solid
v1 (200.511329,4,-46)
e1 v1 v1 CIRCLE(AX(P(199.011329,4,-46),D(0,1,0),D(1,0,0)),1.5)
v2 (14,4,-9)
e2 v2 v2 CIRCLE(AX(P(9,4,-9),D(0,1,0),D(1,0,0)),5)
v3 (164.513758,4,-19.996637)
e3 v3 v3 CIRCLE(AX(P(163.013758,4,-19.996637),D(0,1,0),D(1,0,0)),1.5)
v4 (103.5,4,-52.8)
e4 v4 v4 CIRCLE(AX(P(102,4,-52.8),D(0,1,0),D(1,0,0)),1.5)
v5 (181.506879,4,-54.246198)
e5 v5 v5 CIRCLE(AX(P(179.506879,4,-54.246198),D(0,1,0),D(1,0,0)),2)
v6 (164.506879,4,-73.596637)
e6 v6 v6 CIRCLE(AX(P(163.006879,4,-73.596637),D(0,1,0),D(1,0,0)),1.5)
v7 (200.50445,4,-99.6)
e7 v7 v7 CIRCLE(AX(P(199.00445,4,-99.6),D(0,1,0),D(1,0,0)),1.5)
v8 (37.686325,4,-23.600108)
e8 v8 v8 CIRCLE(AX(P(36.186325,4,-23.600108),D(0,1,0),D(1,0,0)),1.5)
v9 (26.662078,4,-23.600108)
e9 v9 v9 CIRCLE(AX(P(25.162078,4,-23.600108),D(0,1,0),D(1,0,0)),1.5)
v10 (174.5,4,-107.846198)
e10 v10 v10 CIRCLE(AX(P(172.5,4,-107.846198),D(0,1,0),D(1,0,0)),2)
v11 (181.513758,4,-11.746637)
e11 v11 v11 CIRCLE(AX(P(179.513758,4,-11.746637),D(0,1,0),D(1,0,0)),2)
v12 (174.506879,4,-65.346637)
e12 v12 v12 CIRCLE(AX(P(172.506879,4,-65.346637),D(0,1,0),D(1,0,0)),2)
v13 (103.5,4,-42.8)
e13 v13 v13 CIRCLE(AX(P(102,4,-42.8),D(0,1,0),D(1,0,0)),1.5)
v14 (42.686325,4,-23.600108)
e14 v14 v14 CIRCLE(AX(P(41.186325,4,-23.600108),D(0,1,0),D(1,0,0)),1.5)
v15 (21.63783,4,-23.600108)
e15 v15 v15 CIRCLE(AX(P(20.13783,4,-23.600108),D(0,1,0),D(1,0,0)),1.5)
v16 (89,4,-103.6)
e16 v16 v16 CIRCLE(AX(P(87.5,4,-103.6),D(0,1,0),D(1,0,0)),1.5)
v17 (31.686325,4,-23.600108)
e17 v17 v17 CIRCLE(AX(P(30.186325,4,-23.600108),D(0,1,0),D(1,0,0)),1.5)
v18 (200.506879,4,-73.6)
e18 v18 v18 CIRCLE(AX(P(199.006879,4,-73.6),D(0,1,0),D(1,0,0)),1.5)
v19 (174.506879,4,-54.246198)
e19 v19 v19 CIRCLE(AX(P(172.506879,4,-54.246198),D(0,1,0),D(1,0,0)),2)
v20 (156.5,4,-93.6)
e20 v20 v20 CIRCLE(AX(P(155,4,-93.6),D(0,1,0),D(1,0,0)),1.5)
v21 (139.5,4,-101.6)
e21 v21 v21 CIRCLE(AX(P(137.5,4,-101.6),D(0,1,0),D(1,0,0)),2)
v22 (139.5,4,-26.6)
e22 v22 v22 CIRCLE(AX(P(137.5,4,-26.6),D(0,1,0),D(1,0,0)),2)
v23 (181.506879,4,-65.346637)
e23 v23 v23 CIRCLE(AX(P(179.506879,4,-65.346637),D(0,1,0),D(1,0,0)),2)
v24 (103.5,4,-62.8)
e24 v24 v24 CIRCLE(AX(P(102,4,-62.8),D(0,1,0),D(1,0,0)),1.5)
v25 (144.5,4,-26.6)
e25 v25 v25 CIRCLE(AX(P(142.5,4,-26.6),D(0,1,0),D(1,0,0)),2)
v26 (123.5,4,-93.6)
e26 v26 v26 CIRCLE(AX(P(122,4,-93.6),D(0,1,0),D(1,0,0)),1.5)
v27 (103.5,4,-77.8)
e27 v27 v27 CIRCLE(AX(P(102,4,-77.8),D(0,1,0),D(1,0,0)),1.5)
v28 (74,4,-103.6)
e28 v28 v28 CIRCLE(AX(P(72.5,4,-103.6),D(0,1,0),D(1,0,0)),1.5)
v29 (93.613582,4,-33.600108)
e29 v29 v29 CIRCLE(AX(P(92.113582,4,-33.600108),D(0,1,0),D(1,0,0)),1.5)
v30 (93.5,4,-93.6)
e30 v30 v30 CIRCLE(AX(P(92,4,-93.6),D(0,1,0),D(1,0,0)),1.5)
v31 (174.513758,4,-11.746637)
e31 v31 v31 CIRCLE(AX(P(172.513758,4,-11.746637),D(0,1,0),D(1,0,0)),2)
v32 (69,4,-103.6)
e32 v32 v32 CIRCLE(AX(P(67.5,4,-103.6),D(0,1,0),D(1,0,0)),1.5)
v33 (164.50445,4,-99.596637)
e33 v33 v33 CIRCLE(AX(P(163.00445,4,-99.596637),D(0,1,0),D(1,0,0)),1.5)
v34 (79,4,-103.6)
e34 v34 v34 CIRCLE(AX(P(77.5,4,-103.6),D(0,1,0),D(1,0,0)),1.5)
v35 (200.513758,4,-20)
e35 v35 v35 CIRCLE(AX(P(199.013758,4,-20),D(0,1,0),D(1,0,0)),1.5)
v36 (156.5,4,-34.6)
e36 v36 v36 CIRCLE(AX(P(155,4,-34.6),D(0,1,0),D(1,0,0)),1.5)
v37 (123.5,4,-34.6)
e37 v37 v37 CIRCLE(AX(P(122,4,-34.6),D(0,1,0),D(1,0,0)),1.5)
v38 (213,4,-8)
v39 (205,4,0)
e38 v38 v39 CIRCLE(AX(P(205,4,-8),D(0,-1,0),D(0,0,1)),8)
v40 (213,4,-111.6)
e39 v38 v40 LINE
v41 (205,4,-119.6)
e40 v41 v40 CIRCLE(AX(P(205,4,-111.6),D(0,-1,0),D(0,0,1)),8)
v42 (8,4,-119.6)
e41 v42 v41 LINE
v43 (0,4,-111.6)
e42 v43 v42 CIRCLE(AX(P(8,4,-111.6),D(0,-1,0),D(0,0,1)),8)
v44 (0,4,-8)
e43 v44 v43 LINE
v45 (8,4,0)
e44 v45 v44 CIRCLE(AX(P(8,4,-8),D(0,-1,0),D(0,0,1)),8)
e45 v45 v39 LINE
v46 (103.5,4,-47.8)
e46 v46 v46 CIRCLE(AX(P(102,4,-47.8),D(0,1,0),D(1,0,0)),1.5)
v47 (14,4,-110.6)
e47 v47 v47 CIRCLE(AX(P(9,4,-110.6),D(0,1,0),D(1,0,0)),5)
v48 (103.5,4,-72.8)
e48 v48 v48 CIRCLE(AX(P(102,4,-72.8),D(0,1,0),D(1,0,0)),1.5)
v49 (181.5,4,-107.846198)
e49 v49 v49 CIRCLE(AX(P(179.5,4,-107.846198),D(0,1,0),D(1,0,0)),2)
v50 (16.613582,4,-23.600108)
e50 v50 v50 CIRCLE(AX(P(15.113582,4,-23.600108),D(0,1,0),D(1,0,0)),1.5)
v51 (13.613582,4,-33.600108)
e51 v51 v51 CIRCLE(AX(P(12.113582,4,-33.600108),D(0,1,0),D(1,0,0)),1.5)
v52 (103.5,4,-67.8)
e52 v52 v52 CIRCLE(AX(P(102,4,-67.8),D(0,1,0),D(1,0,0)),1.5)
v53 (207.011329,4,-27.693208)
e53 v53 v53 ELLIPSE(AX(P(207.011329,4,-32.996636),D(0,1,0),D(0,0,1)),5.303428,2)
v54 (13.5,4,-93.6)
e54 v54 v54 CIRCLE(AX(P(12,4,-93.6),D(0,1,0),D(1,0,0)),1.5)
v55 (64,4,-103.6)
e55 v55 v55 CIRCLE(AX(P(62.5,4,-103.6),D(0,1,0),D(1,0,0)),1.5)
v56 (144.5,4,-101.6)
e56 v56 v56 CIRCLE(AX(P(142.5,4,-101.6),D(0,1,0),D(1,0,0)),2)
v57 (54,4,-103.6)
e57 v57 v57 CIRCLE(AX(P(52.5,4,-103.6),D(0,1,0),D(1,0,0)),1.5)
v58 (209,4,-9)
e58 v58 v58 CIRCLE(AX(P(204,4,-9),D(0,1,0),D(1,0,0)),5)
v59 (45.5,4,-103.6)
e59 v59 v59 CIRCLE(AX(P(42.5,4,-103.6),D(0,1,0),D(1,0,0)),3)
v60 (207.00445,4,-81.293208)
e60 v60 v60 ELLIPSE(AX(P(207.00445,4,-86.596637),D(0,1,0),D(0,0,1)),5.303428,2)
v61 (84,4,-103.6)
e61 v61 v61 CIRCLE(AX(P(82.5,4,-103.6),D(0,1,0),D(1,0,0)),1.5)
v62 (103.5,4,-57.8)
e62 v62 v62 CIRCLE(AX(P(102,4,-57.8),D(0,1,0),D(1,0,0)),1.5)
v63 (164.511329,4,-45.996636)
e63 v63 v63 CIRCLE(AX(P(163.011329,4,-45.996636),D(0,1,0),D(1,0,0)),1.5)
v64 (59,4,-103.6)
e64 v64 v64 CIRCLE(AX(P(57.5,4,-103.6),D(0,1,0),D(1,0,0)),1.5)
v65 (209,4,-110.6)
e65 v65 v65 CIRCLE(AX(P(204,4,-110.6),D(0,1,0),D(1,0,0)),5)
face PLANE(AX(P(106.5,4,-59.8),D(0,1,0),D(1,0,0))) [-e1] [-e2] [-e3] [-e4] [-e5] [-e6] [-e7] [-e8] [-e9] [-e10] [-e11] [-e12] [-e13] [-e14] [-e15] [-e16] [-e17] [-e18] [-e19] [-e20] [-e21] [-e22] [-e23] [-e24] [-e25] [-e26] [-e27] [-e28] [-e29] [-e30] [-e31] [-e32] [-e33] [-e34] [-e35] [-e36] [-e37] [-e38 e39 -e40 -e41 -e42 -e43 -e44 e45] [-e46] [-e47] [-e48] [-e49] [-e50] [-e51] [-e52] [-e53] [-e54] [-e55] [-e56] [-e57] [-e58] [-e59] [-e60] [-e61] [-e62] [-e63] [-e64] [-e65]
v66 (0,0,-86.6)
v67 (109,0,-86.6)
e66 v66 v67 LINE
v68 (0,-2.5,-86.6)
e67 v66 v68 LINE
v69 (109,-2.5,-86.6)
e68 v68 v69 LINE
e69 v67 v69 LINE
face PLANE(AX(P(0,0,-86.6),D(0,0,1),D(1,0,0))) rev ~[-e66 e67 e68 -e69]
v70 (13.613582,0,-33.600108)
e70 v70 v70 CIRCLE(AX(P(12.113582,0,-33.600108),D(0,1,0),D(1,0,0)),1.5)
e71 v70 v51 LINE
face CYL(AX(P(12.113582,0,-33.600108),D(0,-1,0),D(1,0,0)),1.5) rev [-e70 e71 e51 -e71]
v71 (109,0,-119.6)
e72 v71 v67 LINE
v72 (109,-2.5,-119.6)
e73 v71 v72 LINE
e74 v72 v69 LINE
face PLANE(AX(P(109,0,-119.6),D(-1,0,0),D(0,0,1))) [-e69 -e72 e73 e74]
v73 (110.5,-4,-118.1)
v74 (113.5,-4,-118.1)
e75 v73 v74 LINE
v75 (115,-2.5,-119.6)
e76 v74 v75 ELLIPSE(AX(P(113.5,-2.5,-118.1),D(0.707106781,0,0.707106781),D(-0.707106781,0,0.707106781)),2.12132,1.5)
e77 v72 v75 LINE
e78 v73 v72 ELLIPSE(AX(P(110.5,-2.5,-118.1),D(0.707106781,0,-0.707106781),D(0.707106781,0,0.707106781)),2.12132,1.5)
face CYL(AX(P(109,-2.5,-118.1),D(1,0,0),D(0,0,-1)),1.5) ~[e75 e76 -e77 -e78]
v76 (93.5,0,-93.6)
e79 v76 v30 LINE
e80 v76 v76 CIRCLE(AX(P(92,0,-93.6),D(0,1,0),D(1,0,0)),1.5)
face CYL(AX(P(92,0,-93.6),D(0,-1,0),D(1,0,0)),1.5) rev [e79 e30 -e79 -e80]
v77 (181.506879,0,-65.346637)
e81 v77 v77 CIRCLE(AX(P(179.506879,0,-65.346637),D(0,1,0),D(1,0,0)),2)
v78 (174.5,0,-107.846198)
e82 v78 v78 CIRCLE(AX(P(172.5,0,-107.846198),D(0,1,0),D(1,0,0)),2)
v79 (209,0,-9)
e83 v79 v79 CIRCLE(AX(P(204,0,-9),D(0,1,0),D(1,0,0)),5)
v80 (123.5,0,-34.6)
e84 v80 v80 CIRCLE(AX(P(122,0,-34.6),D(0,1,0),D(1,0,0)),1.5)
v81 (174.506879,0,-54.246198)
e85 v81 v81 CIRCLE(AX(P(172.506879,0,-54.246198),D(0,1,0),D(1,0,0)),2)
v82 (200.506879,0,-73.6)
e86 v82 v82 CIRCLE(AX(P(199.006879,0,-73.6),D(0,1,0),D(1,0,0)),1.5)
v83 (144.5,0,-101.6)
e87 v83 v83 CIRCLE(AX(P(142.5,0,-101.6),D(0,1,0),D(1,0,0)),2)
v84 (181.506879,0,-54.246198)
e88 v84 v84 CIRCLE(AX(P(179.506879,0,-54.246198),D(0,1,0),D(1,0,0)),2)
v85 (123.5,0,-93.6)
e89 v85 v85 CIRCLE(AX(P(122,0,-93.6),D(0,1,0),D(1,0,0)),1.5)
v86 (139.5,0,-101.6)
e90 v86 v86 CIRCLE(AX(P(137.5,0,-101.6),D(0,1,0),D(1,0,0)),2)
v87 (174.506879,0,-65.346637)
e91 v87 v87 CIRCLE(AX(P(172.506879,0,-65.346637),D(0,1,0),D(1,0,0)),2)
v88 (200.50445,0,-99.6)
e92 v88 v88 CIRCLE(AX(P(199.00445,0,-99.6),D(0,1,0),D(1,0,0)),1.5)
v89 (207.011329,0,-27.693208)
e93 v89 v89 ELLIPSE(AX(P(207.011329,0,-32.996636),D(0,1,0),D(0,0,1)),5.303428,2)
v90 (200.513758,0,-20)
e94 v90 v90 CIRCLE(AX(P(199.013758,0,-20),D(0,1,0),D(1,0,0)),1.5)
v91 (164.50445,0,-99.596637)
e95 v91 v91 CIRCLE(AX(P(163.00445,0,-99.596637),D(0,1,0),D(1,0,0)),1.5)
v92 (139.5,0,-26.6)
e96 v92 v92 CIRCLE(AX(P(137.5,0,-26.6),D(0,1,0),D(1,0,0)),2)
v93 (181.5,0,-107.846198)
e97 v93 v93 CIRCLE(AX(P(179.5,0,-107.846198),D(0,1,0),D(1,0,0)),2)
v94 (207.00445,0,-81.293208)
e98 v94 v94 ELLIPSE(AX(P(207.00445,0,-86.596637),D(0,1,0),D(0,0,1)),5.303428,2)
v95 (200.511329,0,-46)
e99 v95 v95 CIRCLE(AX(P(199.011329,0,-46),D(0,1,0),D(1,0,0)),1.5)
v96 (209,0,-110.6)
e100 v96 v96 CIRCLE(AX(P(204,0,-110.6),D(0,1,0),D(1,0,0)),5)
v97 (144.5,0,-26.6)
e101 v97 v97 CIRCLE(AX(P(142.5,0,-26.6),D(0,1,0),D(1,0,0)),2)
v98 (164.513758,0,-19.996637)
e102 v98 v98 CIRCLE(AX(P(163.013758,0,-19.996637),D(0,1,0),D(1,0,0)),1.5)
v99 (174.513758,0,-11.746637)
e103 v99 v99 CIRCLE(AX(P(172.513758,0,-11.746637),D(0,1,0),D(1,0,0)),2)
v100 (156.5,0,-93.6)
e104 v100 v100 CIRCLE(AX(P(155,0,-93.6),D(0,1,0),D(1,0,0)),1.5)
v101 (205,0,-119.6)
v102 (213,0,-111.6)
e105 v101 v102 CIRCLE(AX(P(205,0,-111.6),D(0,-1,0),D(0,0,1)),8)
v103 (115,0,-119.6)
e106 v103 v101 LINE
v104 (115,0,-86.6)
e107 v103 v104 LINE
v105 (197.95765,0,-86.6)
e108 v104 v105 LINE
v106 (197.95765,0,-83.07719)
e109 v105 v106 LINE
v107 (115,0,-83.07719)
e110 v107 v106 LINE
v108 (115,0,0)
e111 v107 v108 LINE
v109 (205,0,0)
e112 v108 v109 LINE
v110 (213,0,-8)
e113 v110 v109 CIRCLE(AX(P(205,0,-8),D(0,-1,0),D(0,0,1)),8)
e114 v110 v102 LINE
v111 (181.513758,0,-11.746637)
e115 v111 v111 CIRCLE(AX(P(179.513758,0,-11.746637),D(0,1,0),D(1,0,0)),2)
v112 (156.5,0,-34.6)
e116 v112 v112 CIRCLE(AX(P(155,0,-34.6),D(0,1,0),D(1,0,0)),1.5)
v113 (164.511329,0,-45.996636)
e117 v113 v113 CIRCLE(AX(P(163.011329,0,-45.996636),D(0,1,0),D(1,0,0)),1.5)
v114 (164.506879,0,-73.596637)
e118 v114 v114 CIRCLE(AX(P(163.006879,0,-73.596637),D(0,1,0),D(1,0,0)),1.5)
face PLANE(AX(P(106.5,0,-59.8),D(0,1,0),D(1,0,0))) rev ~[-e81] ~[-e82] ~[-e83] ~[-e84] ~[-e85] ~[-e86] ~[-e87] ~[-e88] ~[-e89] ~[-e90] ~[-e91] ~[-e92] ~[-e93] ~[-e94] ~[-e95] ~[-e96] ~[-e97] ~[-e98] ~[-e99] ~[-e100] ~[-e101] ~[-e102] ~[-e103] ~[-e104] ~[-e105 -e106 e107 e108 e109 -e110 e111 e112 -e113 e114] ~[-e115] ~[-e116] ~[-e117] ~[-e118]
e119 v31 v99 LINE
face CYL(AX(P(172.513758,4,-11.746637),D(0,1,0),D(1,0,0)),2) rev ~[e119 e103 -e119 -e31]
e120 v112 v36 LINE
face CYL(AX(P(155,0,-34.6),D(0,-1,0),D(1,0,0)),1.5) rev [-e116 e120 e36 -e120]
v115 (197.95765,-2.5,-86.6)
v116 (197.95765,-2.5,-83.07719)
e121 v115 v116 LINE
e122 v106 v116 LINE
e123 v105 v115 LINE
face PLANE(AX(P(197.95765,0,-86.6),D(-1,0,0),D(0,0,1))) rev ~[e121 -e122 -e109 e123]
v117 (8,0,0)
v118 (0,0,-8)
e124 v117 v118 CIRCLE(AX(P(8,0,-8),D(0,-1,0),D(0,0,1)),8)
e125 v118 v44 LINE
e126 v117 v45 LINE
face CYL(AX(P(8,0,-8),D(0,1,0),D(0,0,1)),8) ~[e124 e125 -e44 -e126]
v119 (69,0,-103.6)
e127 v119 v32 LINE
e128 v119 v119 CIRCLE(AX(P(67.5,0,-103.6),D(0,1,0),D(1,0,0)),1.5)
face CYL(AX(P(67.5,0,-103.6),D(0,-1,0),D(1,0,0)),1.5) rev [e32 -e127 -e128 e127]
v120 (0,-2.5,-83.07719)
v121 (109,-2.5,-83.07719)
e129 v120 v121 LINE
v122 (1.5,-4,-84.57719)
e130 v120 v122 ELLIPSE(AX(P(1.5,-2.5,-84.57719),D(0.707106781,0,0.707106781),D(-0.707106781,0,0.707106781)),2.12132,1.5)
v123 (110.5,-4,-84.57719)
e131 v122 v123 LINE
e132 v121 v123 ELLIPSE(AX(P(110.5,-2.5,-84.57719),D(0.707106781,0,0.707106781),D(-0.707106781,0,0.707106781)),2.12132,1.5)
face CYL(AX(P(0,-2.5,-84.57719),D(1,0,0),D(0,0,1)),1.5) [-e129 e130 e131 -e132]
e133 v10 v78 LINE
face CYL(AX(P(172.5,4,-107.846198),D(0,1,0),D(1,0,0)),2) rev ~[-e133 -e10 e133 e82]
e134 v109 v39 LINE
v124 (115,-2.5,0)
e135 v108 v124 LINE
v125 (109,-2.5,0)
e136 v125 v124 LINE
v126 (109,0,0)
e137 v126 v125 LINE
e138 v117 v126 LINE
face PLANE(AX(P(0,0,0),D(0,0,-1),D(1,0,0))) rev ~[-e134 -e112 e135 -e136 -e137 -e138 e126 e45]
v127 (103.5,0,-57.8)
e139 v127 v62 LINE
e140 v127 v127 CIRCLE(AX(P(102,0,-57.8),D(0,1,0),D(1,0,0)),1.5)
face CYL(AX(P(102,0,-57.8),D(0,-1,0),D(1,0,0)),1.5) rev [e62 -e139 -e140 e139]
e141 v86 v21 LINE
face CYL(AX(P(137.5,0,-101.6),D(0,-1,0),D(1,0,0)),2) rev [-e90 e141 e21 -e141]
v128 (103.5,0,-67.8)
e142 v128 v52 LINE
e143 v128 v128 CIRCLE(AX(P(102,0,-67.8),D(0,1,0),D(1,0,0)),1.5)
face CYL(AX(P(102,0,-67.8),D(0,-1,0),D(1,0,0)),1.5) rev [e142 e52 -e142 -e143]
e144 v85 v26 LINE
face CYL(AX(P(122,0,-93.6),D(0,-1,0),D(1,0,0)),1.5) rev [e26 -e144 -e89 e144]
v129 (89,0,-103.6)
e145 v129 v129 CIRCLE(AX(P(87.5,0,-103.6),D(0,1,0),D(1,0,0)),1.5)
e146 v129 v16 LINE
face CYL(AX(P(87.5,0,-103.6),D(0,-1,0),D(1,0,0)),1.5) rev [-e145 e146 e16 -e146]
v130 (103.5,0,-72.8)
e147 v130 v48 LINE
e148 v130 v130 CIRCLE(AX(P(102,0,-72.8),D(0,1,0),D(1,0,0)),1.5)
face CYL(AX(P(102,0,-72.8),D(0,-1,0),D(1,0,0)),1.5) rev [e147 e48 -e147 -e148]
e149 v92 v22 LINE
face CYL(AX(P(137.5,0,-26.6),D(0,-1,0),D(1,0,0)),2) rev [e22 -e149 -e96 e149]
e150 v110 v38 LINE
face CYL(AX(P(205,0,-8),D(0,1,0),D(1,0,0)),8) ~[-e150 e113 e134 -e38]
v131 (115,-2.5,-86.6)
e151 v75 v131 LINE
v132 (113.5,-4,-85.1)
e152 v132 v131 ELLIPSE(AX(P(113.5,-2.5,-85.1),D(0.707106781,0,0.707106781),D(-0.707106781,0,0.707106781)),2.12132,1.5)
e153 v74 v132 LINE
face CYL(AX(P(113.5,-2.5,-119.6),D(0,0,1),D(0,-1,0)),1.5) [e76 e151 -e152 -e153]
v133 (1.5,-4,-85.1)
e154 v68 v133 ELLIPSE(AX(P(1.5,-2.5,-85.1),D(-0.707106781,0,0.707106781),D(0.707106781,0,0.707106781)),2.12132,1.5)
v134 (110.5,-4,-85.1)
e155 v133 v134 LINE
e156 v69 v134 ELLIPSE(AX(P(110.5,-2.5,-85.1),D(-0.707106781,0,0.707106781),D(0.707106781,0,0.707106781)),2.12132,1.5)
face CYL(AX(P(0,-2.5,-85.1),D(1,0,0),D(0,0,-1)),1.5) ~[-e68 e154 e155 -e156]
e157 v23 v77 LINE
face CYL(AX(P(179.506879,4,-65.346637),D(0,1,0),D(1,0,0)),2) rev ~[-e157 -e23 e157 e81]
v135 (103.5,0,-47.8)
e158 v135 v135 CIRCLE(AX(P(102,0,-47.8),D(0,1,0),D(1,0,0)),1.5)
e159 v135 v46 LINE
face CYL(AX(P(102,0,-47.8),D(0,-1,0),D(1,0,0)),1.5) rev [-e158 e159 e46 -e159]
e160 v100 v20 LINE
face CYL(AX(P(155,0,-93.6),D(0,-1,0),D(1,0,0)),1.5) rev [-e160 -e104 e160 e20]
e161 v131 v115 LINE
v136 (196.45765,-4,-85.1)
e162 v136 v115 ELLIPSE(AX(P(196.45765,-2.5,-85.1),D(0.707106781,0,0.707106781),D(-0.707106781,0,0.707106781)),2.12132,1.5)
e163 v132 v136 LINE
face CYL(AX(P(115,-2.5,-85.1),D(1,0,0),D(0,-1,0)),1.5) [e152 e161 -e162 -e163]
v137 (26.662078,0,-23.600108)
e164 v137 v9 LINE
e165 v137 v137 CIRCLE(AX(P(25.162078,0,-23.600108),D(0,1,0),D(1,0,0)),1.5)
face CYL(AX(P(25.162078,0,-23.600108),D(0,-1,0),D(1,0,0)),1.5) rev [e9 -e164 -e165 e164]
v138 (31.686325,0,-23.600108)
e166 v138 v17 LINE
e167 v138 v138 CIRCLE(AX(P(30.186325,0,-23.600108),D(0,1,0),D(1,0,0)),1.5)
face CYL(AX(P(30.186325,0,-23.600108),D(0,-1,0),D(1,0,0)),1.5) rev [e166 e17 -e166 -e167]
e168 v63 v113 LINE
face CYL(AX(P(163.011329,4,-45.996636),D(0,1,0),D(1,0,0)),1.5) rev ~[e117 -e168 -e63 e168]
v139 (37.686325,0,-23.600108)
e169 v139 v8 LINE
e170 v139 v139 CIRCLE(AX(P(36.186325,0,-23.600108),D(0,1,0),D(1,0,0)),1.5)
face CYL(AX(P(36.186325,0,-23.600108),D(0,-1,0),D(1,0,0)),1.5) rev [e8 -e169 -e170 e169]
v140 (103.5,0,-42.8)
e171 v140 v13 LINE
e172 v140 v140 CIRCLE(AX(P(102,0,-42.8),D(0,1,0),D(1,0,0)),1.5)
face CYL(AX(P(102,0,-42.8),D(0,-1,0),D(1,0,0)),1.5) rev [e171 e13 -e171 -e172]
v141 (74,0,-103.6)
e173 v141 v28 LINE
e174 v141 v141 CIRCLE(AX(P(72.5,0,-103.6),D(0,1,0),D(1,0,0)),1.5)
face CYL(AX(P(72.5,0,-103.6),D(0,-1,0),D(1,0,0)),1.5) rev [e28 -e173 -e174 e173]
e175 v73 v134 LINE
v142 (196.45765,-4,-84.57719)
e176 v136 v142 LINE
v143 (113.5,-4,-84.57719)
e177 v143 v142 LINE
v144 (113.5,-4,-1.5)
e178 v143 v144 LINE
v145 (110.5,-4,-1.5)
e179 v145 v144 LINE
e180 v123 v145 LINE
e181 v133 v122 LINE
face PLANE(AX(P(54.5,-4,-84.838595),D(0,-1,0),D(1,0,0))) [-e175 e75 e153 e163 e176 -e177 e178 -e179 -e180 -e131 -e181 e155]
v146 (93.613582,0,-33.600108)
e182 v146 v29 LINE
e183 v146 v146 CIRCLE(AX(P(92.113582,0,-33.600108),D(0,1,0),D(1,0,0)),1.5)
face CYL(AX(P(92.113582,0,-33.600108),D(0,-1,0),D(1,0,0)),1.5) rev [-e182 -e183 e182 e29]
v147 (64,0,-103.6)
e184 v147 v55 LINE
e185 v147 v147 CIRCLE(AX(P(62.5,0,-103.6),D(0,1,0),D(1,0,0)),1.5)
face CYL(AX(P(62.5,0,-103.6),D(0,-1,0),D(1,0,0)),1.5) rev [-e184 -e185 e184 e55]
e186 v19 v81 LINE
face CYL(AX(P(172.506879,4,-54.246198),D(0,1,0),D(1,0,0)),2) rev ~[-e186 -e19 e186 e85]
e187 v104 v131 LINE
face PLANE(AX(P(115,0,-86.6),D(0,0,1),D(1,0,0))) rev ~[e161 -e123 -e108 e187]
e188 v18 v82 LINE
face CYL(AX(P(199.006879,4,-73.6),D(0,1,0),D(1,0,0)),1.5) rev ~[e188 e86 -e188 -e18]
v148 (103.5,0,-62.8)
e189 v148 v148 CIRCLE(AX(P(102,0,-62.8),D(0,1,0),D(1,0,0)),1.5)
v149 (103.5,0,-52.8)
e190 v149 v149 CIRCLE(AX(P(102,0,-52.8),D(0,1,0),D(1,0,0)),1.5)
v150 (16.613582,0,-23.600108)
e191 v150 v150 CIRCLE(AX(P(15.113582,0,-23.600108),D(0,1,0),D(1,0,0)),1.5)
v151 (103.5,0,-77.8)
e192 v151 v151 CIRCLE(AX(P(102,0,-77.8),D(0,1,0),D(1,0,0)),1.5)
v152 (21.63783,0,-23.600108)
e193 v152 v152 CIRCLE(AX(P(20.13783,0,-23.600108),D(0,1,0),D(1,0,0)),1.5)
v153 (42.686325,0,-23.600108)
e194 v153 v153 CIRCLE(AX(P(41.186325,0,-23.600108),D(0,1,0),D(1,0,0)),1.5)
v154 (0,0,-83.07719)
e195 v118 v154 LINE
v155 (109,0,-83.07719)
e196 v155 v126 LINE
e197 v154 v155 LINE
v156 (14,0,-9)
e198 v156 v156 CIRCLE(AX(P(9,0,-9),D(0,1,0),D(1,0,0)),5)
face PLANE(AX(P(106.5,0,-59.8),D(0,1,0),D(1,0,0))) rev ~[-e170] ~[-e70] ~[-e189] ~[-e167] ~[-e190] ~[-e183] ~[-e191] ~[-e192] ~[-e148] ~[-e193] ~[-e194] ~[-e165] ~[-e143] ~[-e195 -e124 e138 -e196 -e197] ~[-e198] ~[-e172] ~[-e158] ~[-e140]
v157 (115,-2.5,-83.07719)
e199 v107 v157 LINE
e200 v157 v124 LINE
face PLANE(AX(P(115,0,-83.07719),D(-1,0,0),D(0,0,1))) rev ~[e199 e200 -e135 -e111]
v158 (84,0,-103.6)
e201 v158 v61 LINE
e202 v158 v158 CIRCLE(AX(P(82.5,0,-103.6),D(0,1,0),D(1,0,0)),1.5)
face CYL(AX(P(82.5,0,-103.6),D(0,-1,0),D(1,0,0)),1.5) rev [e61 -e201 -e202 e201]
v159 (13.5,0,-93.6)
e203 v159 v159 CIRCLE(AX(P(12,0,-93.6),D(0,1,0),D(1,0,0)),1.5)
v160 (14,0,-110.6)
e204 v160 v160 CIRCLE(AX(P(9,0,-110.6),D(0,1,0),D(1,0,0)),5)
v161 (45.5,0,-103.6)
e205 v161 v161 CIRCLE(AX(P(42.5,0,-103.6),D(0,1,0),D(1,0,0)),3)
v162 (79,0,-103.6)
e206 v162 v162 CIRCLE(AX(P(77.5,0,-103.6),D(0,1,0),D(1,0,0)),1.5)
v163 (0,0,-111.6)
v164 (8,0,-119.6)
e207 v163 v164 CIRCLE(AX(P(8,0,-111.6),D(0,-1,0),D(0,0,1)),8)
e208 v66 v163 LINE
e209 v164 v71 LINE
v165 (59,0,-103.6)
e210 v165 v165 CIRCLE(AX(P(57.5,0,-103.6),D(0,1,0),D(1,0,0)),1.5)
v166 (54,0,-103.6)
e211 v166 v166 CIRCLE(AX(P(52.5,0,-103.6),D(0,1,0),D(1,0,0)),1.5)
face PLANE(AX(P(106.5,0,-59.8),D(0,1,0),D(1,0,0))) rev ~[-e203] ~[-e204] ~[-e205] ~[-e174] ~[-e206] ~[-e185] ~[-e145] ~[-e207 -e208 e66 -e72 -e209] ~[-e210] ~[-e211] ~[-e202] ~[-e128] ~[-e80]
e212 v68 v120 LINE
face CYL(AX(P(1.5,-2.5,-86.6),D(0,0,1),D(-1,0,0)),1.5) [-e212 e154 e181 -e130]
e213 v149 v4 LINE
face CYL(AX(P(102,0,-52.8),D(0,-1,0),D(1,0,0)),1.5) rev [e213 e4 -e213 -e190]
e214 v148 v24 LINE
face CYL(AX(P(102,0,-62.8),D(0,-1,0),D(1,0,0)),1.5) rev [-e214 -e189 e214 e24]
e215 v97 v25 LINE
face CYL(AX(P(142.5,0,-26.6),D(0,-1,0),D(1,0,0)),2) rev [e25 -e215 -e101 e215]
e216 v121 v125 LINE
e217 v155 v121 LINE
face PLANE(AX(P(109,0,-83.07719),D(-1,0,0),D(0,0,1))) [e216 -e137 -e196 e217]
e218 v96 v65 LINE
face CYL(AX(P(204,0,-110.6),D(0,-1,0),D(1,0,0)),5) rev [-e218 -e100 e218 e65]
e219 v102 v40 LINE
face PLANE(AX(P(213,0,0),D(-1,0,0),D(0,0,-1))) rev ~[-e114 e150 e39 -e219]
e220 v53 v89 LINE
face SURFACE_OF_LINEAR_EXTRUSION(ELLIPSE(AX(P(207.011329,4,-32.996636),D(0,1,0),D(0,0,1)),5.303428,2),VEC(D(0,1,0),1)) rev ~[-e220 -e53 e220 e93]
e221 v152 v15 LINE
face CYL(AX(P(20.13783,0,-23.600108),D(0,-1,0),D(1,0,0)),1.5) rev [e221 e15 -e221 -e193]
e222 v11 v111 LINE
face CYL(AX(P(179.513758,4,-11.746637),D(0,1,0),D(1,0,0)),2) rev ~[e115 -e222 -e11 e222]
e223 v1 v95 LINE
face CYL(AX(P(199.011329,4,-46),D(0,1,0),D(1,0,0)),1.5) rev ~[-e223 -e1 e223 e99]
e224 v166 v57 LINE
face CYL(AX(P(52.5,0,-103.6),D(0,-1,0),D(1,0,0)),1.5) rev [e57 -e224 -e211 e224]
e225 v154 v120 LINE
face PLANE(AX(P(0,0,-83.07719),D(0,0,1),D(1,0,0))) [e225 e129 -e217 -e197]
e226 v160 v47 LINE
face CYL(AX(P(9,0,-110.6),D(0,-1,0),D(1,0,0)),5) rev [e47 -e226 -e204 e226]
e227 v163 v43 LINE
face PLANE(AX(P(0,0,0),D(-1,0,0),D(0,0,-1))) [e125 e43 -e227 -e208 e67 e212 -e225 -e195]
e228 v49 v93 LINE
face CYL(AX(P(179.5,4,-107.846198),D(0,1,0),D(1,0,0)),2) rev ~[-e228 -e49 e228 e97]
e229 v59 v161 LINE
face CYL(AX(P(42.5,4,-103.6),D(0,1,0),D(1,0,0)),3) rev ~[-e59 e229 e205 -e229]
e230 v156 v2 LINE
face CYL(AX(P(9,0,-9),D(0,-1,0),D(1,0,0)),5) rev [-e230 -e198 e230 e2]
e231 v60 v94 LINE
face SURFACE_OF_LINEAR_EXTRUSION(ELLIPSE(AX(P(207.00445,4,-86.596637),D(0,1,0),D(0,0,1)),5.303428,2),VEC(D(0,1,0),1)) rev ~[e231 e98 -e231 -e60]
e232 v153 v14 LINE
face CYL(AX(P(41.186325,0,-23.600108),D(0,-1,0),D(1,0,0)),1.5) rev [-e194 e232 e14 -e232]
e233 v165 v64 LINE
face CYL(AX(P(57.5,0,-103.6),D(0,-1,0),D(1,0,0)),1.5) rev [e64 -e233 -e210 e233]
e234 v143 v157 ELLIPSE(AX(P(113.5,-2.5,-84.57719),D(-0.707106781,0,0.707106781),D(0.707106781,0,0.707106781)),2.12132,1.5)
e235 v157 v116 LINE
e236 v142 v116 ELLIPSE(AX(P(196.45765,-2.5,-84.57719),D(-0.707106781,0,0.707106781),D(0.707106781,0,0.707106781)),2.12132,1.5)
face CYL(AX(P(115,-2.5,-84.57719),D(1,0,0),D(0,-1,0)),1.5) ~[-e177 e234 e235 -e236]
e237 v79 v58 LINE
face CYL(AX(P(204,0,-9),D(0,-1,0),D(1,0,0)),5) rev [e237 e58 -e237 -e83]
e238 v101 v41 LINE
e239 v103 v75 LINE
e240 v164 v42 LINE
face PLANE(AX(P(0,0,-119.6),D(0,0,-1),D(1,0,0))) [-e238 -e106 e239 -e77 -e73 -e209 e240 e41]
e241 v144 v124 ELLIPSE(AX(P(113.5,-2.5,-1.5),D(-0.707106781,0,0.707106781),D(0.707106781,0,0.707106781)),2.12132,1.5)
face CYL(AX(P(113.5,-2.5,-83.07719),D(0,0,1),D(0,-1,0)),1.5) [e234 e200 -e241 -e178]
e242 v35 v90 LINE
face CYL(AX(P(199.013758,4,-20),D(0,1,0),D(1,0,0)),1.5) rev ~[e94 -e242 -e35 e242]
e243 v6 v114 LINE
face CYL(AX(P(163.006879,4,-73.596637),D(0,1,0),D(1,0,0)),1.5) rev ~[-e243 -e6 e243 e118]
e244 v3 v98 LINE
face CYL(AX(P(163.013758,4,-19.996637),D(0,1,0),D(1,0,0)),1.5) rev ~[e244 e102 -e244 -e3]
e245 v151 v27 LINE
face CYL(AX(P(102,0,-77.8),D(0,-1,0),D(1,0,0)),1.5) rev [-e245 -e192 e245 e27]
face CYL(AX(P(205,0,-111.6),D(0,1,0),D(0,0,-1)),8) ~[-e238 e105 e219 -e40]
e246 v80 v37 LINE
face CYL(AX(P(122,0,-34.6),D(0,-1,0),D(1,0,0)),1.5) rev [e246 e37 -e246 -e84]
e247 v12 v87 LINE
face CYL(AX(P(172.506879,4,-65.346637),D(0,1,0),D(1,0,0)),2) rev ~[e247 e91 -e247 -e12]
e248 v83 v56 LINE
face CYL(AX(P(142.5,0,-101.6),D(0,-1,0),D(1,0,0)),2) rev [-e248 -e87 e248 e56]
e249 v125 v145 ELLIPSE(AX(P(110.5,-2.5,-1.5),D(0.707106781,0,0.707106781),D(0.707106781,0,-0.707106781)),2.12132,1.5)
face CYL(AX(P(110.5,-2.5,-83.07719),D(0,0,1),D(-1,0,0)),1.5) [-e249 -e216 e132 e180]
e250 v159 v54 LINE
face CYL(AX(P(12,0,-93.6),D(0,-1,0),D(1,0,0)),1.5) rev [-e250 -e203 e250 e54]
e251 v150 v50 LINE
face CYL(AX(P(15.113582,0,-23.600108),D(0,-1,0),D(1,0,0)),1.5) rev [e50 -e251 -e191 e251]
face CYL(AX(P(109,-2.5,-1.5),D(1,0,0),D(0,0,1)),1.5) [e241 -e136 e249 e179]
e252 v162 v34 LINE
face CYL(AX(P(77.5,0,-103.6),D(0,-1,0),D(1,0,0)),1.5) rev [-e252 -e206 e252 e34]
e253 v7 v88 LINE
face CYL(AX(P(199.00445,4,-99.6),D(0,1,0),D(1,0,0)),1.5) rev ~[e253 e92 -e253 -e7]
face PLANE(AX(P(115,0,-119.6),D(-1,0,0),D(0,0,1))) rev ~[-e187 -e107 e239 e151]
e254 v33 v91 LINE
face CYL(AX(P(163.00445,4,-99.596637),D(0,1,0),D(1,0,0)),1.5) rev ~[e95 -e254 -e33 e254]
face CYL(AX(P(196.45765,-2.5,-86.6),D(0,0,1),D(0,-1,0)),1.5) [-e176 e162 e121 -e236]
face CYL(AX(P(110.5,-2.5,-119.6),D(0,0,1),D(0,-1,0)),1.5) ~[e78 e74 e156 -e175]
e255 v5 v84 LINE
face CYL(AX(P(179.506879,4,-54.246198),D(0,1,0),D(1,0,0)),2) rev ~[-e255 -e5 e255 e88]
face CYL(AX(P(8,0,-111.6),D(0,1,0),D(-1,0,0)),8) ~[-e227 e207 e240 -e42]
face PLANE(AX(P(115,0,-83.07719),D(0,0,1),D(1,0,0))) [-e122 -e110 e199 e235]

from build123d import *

# Parameters (mm, degrees)
SKETCH1_W           = 213
SKETCH1_H           = 119.6
SKETCH1_R           = 1.5
SKETCH1_R_2         = 1.499999994
SKETCH1_R_3         = 2
SKETCH1_R_4         = 2.000000002
SKETCH1_R_5         = 5
BOSS_EXTRUDE1_DEPTH = 4
SKETCH5_R           = 1.5
SKETCH5_R_2         = 2
SKETCH5_RX          = 5.303428227
SKETCH5_RY          = 2
CUT_EXTRUDE1_DEPTH  = 4
SKETCH6_R           = 3
CUT_EXTRUDE2_DEPTH  = 4
SKETCH7_W           = 109
SKETCH7_H           = 3.522810192
SKETCH7_W_2         = 6
SKETCH7_H_2         = 119.6
SKETCH7_W_3         = 82.957650312
BOSS_EXTRUDE2_DEPTH = 4
FILLET7_R           = 1.5
FILLET8_R           = 8
FILLET9_R           = 8
FILLET10_R          = 8
FILLET11_R          = 8


with BuildPart() as part:
    # Sketch1 → Boss-Extrude1 (new body)
    with BuildSketch(Plane(origin=(0, 0, 0), x_dir=(1, 0, 0), z_dir=(0, 1, 0))):
        with Locations((106.5, 59.8)):
            Rectangle(SKETCH1_W, SKETCH1_H)
        with Locations((12, 93.6)):
            Circle(SKETCH1_R, mode=Mode.SUBTRACT)
        with Locations((12.113582234, 33.600107508)):
            Circle(SKETCH1_R, mode=Mode.SUBTRACT)
        with Locations((92, 93.6)):
            Circle(SKETCH1_R_2, mode=Mode.SUBTRACT)
        with Locations((92.113582234, 33.600107508)):
            Circle(SKETCH1_R, mode=Mode.SUBTRACT)
        with Locations((87.5, 103.6)):
            Circle(SKETCH1_R_2, mode=Mode.SUBTRACT)
        with Locations((102, 77.8)):
            Circle(SKETCH1_R_2, mode=Mode.SUBTRACT)
        with Locations((82.5, 103.6)):
            Circle(SKETCH1_R_2, mode=Mode.SUBTRACT)
        with Locations((77.5, 103.6)):
            Circle(SKETCH1_R_2, mode=Mode.SUBTRACT)
        with Locations((72.5, 103.6)):
            Circle(SKETCH1_R_2, mode=Mode.SUBTRACT)
        with Locations((67.5, 103.6)):
            Circle(SKETCH1_R_2, mode=Mode.SUBTRACT)
        with Locations((62.5, 103.6)):
            Circle(SKETCH1_R_2, mode=Mode.SUBTRACT)
        with Locations((57.5, 103.6)):
            Circle(SKETCH1_R_2, mode=Mode.SUBTRACT)
        with Locations((52.5, 103.6)):
            Circle(SKETCH1_R_2, mode=Mode.SUBTRACT)
        with Locations((102, 72.8)):
            Circle(SKETCH1_R_2, mode=Mode.SUBTRACT)
        with Locations((102, 67.8)):
            Circle(SKETCH1_R_2, mode=Mode.SUBTRACT)
        with Locations((102, 62.8)):
            Circle(SKETCH1_R_2, mode=Mode.SUBTRACT)
        with Locations((102, 57.8)):
            Circle(SKETCH1_R_2, mode=Mode.SUBTRACT)
        with Locations((102, 52.8)):
            Circle(SKETCH1_R_2, mode=Mode.SUBTRACT)
        with Locations((102, 47.8)):
            Circle(SKETCH1_R_2, mode=Mode.SUBTRACT)
        with Locations((102, 42.8)):
            Circle(SKETCH1_R_2, mode=Mode.SUBTRACT)
        with Locations((122, 93.6)):
            Circle(SKETCH1_R, mode=Mode.SUBTRACT)
        with Locations((155, 93.6)):
            Circle(SKETCH1_R, mode=Mode.SUBTRACT)
        with Locations((122, 34.6)):
            Circle(SKETCH1_R, mode=Mode.SUBTRACT)
        with Locations((155, 34.6)):
            Circle(SKETCH1_R, mode=Mode.SUBTRACT)
        with Locations((15.113582234, 23.600107508)):
            Circle(SKETCH1_R, mode=Mode.SUBTRACT)
        with Locations((20.137829951, 23.600107508)):
            Circle(SKETCH1_R, mode=Mode.SUBTRACT)
        with Locations((25.162077668, 23.600107508)):
            Circle(SKETCH1_R, mode=Mode.SUBTRACT)
        with Locations((30.186325385, 23.600107508)):
            Circle(SKETCH1_R, mode=Mode.SUBTRACT)
        with Locations((36.186325385, 23.600107508)):
            Circle(SKETCH1_R, mode=Mode.SUBTRACT)
        with Locations((41.186325385, 23.600107508)):
            Circle(SKETCH1_R, mode=Mode.SUBTRACT)
        with Locations((137.5, 101.6)):
            Circle(SKETCH1_R_3, mode=Mode.SUBTRACT)
        with Locations((142.5, 101.6)):
            Circle(SKETCH1_R_4, mode=Mode.SUBTRACT)
        with Locations((137.5, 26.6)):
            Circle(SKETCH1_R_3, mode=Mode.SUBTRACT)
        with Locations((142.5, 26.6)):
            Circle(SKETCH1_R_3, mode=Mode.SUBTRACT)
        with Locations((9, 110.6)):
            Circle(SKETCH1_R_5, mode=Mode.SUBTRACT)
        with Locations((9, 9)):
            Circle(SKETCH1_R_5, mode=Mode.SUBTRACT)
        with Locations((204, 110.6)):
            Circle(SKETCH1_R_5, mode=Mode.SUBTRACT)
        with Locations((204, 9)):
            Circle(SKETCH1_R_5, mode=Mode.SUBTRACT)
    extrude(amount=BOSS_EXTRUDE1_DEPTH)

    # Sketch5 → Cut-Extrude1 (cut)
    with BuildSketch(Plane(origin=(0, 4, 0), x_dir=(1, 0, 0), z_dir=(0, 1, 0))):
        with Locations((199.004449887, 99.6)):
            Circle(SKETCH5_R)
        with Locations((199.006879067, 73.600000113)):
            Circle(SKETCH5_R)
        with Locations((163.004450044, 99.596636519)):
            Circle(SKETCH5_R)
        with Locations((163.006879224, 73.596636633)):
            Circle(SKETCH5_R)
        with Locations((172.5, 107.84619775)):
            Circle(SKETCH5_R_2)
        with Locations((179.5, 107.84619775)):
            Circle(SKETCH5_R_2)
        with Locations((172.506879224, 65.346636633)):
            Circle(SKETCH5_R_2)
        with Locations((179.506879224, 65.346636633)):
            Circle(SKETCH5_R_2)
        with Locations((199.011329111, 45.999999887)):
            Circle(SKETCH5_R)
        with Locations((199.013758291, 20)):
            Circle(SKETCH5_R)
        with Locations((163.011329268, 45.996636406)):
            Circle(SKETCH5_R)
        with Locations((163.013758448, 19.996636519)):
            Circle(SKETCH5_R)
        with Locations((172.506879224, 54.246197637)):
            Circle(SKETCH5_R_2)
        with Locations((179.506879224, 54.246197637)):
            Circle(SKETCH5_R_2)
        with Locations((172.513758448, 11.746636519)):
            Circle(SKETCH5_R_2)
        with Locations((179.513758448, 11.746636519)):
            Circle(SKETCH5_R_2)
        with Locations(Location((207.004450044, 86.596636519), (0, 0, -90))):
            Ellipse(SKETCH5_RX, SKETCH5_RY)
        with Locations(Location((207.011329268, 32.996636406), (0, 0, -90))):
            Ellipse(SKETCH5_RX, SKETCH5_RY)
    extrude(amount=-CUT_EXTRUDE1_DEPTH, mode=Mode.SUBTRACT)

    # Sketch6 → Cut-Extrude2 (cut)
    with BuildSketch(Plane(origin=(0, 4, 0), x_dir=(1, 0, 0), z_dir=(0, 1, 0))):
        with Locations((42.5, 103.6)):
            Circle(SKETCH6_R)
    extrude(amount=-CUT_EXTRUDE2_DEPTH, mode=Mode.SUBTRACT)

    # Sketch7 → Boss-Extrude2 (add)
    with BuildSketch(Plane.XZ):
        with Locations((54.5, -84.838594904)):
            Rectangle(SKETCH7_W, SKETCH7_H)
        with Locations((112, -59.8)):
            Rectangle(SKETCH7_W_2, SKETCH7_H_2)
        with Locations((156.478825156, -84.838594904)):
            Rectangle(SKETCH7_W_3, SKETCH7_H)
    extrude(amount=BOSS_EXTRUDE2_DEPTH)

    # Fillet7
    fillet7_edges = [part.edges().sort_by_distance(p)[0] for p in [
        (0, -4, -84.838594904),
        (54.5, -4, -86.6),
        (115, -4, -103.1),
        (197.957650312, -4, -84.838594904),
        (156.478825156, -4, -83.077189808),
        (115, -4, -41.538594904),
        (112, -4, 0),
        (109, -4, -103.1),
        (112, -4, -119.6),
        (156.478825156, -4, -86.6),
        (109, -4, -41.538594904),
        (54.5, -4, -83.077189808),
    ]]
    fillet(fillet7_edges, radius=FILLET7_R)

    # Fillet8
    fillet8_edges = [part.edges().sort_by_distance(p)[0] for p in [
        (0, 2, -119.6),
    ]]
    fillet(fillet8_edges, radius=FILLET8_R)

    # Fillet9
    fillet9_edges = [part.edges().sort_by_distance(p)[0] for p in [
        (213, 2, -119.6),
    ]]
    fillet(fillet9_edges, radius=FILLET9_R)

    # Fillet10
    fillet10_edges = [part.edges().sort_by_distance(p)[0] for p in [
        (213, 2, 0),
    ]]
    fillet(fillet10_edges, radius=FILLET10_R)

    # Fillet11
    fillet11_edges = [part.edges().sort_by_distance(p)[0] for p in [
        (0, 2, 0),
    ]]
    fillet(fillet11_edges, radius=FILLET11_R)


solid = part.part
